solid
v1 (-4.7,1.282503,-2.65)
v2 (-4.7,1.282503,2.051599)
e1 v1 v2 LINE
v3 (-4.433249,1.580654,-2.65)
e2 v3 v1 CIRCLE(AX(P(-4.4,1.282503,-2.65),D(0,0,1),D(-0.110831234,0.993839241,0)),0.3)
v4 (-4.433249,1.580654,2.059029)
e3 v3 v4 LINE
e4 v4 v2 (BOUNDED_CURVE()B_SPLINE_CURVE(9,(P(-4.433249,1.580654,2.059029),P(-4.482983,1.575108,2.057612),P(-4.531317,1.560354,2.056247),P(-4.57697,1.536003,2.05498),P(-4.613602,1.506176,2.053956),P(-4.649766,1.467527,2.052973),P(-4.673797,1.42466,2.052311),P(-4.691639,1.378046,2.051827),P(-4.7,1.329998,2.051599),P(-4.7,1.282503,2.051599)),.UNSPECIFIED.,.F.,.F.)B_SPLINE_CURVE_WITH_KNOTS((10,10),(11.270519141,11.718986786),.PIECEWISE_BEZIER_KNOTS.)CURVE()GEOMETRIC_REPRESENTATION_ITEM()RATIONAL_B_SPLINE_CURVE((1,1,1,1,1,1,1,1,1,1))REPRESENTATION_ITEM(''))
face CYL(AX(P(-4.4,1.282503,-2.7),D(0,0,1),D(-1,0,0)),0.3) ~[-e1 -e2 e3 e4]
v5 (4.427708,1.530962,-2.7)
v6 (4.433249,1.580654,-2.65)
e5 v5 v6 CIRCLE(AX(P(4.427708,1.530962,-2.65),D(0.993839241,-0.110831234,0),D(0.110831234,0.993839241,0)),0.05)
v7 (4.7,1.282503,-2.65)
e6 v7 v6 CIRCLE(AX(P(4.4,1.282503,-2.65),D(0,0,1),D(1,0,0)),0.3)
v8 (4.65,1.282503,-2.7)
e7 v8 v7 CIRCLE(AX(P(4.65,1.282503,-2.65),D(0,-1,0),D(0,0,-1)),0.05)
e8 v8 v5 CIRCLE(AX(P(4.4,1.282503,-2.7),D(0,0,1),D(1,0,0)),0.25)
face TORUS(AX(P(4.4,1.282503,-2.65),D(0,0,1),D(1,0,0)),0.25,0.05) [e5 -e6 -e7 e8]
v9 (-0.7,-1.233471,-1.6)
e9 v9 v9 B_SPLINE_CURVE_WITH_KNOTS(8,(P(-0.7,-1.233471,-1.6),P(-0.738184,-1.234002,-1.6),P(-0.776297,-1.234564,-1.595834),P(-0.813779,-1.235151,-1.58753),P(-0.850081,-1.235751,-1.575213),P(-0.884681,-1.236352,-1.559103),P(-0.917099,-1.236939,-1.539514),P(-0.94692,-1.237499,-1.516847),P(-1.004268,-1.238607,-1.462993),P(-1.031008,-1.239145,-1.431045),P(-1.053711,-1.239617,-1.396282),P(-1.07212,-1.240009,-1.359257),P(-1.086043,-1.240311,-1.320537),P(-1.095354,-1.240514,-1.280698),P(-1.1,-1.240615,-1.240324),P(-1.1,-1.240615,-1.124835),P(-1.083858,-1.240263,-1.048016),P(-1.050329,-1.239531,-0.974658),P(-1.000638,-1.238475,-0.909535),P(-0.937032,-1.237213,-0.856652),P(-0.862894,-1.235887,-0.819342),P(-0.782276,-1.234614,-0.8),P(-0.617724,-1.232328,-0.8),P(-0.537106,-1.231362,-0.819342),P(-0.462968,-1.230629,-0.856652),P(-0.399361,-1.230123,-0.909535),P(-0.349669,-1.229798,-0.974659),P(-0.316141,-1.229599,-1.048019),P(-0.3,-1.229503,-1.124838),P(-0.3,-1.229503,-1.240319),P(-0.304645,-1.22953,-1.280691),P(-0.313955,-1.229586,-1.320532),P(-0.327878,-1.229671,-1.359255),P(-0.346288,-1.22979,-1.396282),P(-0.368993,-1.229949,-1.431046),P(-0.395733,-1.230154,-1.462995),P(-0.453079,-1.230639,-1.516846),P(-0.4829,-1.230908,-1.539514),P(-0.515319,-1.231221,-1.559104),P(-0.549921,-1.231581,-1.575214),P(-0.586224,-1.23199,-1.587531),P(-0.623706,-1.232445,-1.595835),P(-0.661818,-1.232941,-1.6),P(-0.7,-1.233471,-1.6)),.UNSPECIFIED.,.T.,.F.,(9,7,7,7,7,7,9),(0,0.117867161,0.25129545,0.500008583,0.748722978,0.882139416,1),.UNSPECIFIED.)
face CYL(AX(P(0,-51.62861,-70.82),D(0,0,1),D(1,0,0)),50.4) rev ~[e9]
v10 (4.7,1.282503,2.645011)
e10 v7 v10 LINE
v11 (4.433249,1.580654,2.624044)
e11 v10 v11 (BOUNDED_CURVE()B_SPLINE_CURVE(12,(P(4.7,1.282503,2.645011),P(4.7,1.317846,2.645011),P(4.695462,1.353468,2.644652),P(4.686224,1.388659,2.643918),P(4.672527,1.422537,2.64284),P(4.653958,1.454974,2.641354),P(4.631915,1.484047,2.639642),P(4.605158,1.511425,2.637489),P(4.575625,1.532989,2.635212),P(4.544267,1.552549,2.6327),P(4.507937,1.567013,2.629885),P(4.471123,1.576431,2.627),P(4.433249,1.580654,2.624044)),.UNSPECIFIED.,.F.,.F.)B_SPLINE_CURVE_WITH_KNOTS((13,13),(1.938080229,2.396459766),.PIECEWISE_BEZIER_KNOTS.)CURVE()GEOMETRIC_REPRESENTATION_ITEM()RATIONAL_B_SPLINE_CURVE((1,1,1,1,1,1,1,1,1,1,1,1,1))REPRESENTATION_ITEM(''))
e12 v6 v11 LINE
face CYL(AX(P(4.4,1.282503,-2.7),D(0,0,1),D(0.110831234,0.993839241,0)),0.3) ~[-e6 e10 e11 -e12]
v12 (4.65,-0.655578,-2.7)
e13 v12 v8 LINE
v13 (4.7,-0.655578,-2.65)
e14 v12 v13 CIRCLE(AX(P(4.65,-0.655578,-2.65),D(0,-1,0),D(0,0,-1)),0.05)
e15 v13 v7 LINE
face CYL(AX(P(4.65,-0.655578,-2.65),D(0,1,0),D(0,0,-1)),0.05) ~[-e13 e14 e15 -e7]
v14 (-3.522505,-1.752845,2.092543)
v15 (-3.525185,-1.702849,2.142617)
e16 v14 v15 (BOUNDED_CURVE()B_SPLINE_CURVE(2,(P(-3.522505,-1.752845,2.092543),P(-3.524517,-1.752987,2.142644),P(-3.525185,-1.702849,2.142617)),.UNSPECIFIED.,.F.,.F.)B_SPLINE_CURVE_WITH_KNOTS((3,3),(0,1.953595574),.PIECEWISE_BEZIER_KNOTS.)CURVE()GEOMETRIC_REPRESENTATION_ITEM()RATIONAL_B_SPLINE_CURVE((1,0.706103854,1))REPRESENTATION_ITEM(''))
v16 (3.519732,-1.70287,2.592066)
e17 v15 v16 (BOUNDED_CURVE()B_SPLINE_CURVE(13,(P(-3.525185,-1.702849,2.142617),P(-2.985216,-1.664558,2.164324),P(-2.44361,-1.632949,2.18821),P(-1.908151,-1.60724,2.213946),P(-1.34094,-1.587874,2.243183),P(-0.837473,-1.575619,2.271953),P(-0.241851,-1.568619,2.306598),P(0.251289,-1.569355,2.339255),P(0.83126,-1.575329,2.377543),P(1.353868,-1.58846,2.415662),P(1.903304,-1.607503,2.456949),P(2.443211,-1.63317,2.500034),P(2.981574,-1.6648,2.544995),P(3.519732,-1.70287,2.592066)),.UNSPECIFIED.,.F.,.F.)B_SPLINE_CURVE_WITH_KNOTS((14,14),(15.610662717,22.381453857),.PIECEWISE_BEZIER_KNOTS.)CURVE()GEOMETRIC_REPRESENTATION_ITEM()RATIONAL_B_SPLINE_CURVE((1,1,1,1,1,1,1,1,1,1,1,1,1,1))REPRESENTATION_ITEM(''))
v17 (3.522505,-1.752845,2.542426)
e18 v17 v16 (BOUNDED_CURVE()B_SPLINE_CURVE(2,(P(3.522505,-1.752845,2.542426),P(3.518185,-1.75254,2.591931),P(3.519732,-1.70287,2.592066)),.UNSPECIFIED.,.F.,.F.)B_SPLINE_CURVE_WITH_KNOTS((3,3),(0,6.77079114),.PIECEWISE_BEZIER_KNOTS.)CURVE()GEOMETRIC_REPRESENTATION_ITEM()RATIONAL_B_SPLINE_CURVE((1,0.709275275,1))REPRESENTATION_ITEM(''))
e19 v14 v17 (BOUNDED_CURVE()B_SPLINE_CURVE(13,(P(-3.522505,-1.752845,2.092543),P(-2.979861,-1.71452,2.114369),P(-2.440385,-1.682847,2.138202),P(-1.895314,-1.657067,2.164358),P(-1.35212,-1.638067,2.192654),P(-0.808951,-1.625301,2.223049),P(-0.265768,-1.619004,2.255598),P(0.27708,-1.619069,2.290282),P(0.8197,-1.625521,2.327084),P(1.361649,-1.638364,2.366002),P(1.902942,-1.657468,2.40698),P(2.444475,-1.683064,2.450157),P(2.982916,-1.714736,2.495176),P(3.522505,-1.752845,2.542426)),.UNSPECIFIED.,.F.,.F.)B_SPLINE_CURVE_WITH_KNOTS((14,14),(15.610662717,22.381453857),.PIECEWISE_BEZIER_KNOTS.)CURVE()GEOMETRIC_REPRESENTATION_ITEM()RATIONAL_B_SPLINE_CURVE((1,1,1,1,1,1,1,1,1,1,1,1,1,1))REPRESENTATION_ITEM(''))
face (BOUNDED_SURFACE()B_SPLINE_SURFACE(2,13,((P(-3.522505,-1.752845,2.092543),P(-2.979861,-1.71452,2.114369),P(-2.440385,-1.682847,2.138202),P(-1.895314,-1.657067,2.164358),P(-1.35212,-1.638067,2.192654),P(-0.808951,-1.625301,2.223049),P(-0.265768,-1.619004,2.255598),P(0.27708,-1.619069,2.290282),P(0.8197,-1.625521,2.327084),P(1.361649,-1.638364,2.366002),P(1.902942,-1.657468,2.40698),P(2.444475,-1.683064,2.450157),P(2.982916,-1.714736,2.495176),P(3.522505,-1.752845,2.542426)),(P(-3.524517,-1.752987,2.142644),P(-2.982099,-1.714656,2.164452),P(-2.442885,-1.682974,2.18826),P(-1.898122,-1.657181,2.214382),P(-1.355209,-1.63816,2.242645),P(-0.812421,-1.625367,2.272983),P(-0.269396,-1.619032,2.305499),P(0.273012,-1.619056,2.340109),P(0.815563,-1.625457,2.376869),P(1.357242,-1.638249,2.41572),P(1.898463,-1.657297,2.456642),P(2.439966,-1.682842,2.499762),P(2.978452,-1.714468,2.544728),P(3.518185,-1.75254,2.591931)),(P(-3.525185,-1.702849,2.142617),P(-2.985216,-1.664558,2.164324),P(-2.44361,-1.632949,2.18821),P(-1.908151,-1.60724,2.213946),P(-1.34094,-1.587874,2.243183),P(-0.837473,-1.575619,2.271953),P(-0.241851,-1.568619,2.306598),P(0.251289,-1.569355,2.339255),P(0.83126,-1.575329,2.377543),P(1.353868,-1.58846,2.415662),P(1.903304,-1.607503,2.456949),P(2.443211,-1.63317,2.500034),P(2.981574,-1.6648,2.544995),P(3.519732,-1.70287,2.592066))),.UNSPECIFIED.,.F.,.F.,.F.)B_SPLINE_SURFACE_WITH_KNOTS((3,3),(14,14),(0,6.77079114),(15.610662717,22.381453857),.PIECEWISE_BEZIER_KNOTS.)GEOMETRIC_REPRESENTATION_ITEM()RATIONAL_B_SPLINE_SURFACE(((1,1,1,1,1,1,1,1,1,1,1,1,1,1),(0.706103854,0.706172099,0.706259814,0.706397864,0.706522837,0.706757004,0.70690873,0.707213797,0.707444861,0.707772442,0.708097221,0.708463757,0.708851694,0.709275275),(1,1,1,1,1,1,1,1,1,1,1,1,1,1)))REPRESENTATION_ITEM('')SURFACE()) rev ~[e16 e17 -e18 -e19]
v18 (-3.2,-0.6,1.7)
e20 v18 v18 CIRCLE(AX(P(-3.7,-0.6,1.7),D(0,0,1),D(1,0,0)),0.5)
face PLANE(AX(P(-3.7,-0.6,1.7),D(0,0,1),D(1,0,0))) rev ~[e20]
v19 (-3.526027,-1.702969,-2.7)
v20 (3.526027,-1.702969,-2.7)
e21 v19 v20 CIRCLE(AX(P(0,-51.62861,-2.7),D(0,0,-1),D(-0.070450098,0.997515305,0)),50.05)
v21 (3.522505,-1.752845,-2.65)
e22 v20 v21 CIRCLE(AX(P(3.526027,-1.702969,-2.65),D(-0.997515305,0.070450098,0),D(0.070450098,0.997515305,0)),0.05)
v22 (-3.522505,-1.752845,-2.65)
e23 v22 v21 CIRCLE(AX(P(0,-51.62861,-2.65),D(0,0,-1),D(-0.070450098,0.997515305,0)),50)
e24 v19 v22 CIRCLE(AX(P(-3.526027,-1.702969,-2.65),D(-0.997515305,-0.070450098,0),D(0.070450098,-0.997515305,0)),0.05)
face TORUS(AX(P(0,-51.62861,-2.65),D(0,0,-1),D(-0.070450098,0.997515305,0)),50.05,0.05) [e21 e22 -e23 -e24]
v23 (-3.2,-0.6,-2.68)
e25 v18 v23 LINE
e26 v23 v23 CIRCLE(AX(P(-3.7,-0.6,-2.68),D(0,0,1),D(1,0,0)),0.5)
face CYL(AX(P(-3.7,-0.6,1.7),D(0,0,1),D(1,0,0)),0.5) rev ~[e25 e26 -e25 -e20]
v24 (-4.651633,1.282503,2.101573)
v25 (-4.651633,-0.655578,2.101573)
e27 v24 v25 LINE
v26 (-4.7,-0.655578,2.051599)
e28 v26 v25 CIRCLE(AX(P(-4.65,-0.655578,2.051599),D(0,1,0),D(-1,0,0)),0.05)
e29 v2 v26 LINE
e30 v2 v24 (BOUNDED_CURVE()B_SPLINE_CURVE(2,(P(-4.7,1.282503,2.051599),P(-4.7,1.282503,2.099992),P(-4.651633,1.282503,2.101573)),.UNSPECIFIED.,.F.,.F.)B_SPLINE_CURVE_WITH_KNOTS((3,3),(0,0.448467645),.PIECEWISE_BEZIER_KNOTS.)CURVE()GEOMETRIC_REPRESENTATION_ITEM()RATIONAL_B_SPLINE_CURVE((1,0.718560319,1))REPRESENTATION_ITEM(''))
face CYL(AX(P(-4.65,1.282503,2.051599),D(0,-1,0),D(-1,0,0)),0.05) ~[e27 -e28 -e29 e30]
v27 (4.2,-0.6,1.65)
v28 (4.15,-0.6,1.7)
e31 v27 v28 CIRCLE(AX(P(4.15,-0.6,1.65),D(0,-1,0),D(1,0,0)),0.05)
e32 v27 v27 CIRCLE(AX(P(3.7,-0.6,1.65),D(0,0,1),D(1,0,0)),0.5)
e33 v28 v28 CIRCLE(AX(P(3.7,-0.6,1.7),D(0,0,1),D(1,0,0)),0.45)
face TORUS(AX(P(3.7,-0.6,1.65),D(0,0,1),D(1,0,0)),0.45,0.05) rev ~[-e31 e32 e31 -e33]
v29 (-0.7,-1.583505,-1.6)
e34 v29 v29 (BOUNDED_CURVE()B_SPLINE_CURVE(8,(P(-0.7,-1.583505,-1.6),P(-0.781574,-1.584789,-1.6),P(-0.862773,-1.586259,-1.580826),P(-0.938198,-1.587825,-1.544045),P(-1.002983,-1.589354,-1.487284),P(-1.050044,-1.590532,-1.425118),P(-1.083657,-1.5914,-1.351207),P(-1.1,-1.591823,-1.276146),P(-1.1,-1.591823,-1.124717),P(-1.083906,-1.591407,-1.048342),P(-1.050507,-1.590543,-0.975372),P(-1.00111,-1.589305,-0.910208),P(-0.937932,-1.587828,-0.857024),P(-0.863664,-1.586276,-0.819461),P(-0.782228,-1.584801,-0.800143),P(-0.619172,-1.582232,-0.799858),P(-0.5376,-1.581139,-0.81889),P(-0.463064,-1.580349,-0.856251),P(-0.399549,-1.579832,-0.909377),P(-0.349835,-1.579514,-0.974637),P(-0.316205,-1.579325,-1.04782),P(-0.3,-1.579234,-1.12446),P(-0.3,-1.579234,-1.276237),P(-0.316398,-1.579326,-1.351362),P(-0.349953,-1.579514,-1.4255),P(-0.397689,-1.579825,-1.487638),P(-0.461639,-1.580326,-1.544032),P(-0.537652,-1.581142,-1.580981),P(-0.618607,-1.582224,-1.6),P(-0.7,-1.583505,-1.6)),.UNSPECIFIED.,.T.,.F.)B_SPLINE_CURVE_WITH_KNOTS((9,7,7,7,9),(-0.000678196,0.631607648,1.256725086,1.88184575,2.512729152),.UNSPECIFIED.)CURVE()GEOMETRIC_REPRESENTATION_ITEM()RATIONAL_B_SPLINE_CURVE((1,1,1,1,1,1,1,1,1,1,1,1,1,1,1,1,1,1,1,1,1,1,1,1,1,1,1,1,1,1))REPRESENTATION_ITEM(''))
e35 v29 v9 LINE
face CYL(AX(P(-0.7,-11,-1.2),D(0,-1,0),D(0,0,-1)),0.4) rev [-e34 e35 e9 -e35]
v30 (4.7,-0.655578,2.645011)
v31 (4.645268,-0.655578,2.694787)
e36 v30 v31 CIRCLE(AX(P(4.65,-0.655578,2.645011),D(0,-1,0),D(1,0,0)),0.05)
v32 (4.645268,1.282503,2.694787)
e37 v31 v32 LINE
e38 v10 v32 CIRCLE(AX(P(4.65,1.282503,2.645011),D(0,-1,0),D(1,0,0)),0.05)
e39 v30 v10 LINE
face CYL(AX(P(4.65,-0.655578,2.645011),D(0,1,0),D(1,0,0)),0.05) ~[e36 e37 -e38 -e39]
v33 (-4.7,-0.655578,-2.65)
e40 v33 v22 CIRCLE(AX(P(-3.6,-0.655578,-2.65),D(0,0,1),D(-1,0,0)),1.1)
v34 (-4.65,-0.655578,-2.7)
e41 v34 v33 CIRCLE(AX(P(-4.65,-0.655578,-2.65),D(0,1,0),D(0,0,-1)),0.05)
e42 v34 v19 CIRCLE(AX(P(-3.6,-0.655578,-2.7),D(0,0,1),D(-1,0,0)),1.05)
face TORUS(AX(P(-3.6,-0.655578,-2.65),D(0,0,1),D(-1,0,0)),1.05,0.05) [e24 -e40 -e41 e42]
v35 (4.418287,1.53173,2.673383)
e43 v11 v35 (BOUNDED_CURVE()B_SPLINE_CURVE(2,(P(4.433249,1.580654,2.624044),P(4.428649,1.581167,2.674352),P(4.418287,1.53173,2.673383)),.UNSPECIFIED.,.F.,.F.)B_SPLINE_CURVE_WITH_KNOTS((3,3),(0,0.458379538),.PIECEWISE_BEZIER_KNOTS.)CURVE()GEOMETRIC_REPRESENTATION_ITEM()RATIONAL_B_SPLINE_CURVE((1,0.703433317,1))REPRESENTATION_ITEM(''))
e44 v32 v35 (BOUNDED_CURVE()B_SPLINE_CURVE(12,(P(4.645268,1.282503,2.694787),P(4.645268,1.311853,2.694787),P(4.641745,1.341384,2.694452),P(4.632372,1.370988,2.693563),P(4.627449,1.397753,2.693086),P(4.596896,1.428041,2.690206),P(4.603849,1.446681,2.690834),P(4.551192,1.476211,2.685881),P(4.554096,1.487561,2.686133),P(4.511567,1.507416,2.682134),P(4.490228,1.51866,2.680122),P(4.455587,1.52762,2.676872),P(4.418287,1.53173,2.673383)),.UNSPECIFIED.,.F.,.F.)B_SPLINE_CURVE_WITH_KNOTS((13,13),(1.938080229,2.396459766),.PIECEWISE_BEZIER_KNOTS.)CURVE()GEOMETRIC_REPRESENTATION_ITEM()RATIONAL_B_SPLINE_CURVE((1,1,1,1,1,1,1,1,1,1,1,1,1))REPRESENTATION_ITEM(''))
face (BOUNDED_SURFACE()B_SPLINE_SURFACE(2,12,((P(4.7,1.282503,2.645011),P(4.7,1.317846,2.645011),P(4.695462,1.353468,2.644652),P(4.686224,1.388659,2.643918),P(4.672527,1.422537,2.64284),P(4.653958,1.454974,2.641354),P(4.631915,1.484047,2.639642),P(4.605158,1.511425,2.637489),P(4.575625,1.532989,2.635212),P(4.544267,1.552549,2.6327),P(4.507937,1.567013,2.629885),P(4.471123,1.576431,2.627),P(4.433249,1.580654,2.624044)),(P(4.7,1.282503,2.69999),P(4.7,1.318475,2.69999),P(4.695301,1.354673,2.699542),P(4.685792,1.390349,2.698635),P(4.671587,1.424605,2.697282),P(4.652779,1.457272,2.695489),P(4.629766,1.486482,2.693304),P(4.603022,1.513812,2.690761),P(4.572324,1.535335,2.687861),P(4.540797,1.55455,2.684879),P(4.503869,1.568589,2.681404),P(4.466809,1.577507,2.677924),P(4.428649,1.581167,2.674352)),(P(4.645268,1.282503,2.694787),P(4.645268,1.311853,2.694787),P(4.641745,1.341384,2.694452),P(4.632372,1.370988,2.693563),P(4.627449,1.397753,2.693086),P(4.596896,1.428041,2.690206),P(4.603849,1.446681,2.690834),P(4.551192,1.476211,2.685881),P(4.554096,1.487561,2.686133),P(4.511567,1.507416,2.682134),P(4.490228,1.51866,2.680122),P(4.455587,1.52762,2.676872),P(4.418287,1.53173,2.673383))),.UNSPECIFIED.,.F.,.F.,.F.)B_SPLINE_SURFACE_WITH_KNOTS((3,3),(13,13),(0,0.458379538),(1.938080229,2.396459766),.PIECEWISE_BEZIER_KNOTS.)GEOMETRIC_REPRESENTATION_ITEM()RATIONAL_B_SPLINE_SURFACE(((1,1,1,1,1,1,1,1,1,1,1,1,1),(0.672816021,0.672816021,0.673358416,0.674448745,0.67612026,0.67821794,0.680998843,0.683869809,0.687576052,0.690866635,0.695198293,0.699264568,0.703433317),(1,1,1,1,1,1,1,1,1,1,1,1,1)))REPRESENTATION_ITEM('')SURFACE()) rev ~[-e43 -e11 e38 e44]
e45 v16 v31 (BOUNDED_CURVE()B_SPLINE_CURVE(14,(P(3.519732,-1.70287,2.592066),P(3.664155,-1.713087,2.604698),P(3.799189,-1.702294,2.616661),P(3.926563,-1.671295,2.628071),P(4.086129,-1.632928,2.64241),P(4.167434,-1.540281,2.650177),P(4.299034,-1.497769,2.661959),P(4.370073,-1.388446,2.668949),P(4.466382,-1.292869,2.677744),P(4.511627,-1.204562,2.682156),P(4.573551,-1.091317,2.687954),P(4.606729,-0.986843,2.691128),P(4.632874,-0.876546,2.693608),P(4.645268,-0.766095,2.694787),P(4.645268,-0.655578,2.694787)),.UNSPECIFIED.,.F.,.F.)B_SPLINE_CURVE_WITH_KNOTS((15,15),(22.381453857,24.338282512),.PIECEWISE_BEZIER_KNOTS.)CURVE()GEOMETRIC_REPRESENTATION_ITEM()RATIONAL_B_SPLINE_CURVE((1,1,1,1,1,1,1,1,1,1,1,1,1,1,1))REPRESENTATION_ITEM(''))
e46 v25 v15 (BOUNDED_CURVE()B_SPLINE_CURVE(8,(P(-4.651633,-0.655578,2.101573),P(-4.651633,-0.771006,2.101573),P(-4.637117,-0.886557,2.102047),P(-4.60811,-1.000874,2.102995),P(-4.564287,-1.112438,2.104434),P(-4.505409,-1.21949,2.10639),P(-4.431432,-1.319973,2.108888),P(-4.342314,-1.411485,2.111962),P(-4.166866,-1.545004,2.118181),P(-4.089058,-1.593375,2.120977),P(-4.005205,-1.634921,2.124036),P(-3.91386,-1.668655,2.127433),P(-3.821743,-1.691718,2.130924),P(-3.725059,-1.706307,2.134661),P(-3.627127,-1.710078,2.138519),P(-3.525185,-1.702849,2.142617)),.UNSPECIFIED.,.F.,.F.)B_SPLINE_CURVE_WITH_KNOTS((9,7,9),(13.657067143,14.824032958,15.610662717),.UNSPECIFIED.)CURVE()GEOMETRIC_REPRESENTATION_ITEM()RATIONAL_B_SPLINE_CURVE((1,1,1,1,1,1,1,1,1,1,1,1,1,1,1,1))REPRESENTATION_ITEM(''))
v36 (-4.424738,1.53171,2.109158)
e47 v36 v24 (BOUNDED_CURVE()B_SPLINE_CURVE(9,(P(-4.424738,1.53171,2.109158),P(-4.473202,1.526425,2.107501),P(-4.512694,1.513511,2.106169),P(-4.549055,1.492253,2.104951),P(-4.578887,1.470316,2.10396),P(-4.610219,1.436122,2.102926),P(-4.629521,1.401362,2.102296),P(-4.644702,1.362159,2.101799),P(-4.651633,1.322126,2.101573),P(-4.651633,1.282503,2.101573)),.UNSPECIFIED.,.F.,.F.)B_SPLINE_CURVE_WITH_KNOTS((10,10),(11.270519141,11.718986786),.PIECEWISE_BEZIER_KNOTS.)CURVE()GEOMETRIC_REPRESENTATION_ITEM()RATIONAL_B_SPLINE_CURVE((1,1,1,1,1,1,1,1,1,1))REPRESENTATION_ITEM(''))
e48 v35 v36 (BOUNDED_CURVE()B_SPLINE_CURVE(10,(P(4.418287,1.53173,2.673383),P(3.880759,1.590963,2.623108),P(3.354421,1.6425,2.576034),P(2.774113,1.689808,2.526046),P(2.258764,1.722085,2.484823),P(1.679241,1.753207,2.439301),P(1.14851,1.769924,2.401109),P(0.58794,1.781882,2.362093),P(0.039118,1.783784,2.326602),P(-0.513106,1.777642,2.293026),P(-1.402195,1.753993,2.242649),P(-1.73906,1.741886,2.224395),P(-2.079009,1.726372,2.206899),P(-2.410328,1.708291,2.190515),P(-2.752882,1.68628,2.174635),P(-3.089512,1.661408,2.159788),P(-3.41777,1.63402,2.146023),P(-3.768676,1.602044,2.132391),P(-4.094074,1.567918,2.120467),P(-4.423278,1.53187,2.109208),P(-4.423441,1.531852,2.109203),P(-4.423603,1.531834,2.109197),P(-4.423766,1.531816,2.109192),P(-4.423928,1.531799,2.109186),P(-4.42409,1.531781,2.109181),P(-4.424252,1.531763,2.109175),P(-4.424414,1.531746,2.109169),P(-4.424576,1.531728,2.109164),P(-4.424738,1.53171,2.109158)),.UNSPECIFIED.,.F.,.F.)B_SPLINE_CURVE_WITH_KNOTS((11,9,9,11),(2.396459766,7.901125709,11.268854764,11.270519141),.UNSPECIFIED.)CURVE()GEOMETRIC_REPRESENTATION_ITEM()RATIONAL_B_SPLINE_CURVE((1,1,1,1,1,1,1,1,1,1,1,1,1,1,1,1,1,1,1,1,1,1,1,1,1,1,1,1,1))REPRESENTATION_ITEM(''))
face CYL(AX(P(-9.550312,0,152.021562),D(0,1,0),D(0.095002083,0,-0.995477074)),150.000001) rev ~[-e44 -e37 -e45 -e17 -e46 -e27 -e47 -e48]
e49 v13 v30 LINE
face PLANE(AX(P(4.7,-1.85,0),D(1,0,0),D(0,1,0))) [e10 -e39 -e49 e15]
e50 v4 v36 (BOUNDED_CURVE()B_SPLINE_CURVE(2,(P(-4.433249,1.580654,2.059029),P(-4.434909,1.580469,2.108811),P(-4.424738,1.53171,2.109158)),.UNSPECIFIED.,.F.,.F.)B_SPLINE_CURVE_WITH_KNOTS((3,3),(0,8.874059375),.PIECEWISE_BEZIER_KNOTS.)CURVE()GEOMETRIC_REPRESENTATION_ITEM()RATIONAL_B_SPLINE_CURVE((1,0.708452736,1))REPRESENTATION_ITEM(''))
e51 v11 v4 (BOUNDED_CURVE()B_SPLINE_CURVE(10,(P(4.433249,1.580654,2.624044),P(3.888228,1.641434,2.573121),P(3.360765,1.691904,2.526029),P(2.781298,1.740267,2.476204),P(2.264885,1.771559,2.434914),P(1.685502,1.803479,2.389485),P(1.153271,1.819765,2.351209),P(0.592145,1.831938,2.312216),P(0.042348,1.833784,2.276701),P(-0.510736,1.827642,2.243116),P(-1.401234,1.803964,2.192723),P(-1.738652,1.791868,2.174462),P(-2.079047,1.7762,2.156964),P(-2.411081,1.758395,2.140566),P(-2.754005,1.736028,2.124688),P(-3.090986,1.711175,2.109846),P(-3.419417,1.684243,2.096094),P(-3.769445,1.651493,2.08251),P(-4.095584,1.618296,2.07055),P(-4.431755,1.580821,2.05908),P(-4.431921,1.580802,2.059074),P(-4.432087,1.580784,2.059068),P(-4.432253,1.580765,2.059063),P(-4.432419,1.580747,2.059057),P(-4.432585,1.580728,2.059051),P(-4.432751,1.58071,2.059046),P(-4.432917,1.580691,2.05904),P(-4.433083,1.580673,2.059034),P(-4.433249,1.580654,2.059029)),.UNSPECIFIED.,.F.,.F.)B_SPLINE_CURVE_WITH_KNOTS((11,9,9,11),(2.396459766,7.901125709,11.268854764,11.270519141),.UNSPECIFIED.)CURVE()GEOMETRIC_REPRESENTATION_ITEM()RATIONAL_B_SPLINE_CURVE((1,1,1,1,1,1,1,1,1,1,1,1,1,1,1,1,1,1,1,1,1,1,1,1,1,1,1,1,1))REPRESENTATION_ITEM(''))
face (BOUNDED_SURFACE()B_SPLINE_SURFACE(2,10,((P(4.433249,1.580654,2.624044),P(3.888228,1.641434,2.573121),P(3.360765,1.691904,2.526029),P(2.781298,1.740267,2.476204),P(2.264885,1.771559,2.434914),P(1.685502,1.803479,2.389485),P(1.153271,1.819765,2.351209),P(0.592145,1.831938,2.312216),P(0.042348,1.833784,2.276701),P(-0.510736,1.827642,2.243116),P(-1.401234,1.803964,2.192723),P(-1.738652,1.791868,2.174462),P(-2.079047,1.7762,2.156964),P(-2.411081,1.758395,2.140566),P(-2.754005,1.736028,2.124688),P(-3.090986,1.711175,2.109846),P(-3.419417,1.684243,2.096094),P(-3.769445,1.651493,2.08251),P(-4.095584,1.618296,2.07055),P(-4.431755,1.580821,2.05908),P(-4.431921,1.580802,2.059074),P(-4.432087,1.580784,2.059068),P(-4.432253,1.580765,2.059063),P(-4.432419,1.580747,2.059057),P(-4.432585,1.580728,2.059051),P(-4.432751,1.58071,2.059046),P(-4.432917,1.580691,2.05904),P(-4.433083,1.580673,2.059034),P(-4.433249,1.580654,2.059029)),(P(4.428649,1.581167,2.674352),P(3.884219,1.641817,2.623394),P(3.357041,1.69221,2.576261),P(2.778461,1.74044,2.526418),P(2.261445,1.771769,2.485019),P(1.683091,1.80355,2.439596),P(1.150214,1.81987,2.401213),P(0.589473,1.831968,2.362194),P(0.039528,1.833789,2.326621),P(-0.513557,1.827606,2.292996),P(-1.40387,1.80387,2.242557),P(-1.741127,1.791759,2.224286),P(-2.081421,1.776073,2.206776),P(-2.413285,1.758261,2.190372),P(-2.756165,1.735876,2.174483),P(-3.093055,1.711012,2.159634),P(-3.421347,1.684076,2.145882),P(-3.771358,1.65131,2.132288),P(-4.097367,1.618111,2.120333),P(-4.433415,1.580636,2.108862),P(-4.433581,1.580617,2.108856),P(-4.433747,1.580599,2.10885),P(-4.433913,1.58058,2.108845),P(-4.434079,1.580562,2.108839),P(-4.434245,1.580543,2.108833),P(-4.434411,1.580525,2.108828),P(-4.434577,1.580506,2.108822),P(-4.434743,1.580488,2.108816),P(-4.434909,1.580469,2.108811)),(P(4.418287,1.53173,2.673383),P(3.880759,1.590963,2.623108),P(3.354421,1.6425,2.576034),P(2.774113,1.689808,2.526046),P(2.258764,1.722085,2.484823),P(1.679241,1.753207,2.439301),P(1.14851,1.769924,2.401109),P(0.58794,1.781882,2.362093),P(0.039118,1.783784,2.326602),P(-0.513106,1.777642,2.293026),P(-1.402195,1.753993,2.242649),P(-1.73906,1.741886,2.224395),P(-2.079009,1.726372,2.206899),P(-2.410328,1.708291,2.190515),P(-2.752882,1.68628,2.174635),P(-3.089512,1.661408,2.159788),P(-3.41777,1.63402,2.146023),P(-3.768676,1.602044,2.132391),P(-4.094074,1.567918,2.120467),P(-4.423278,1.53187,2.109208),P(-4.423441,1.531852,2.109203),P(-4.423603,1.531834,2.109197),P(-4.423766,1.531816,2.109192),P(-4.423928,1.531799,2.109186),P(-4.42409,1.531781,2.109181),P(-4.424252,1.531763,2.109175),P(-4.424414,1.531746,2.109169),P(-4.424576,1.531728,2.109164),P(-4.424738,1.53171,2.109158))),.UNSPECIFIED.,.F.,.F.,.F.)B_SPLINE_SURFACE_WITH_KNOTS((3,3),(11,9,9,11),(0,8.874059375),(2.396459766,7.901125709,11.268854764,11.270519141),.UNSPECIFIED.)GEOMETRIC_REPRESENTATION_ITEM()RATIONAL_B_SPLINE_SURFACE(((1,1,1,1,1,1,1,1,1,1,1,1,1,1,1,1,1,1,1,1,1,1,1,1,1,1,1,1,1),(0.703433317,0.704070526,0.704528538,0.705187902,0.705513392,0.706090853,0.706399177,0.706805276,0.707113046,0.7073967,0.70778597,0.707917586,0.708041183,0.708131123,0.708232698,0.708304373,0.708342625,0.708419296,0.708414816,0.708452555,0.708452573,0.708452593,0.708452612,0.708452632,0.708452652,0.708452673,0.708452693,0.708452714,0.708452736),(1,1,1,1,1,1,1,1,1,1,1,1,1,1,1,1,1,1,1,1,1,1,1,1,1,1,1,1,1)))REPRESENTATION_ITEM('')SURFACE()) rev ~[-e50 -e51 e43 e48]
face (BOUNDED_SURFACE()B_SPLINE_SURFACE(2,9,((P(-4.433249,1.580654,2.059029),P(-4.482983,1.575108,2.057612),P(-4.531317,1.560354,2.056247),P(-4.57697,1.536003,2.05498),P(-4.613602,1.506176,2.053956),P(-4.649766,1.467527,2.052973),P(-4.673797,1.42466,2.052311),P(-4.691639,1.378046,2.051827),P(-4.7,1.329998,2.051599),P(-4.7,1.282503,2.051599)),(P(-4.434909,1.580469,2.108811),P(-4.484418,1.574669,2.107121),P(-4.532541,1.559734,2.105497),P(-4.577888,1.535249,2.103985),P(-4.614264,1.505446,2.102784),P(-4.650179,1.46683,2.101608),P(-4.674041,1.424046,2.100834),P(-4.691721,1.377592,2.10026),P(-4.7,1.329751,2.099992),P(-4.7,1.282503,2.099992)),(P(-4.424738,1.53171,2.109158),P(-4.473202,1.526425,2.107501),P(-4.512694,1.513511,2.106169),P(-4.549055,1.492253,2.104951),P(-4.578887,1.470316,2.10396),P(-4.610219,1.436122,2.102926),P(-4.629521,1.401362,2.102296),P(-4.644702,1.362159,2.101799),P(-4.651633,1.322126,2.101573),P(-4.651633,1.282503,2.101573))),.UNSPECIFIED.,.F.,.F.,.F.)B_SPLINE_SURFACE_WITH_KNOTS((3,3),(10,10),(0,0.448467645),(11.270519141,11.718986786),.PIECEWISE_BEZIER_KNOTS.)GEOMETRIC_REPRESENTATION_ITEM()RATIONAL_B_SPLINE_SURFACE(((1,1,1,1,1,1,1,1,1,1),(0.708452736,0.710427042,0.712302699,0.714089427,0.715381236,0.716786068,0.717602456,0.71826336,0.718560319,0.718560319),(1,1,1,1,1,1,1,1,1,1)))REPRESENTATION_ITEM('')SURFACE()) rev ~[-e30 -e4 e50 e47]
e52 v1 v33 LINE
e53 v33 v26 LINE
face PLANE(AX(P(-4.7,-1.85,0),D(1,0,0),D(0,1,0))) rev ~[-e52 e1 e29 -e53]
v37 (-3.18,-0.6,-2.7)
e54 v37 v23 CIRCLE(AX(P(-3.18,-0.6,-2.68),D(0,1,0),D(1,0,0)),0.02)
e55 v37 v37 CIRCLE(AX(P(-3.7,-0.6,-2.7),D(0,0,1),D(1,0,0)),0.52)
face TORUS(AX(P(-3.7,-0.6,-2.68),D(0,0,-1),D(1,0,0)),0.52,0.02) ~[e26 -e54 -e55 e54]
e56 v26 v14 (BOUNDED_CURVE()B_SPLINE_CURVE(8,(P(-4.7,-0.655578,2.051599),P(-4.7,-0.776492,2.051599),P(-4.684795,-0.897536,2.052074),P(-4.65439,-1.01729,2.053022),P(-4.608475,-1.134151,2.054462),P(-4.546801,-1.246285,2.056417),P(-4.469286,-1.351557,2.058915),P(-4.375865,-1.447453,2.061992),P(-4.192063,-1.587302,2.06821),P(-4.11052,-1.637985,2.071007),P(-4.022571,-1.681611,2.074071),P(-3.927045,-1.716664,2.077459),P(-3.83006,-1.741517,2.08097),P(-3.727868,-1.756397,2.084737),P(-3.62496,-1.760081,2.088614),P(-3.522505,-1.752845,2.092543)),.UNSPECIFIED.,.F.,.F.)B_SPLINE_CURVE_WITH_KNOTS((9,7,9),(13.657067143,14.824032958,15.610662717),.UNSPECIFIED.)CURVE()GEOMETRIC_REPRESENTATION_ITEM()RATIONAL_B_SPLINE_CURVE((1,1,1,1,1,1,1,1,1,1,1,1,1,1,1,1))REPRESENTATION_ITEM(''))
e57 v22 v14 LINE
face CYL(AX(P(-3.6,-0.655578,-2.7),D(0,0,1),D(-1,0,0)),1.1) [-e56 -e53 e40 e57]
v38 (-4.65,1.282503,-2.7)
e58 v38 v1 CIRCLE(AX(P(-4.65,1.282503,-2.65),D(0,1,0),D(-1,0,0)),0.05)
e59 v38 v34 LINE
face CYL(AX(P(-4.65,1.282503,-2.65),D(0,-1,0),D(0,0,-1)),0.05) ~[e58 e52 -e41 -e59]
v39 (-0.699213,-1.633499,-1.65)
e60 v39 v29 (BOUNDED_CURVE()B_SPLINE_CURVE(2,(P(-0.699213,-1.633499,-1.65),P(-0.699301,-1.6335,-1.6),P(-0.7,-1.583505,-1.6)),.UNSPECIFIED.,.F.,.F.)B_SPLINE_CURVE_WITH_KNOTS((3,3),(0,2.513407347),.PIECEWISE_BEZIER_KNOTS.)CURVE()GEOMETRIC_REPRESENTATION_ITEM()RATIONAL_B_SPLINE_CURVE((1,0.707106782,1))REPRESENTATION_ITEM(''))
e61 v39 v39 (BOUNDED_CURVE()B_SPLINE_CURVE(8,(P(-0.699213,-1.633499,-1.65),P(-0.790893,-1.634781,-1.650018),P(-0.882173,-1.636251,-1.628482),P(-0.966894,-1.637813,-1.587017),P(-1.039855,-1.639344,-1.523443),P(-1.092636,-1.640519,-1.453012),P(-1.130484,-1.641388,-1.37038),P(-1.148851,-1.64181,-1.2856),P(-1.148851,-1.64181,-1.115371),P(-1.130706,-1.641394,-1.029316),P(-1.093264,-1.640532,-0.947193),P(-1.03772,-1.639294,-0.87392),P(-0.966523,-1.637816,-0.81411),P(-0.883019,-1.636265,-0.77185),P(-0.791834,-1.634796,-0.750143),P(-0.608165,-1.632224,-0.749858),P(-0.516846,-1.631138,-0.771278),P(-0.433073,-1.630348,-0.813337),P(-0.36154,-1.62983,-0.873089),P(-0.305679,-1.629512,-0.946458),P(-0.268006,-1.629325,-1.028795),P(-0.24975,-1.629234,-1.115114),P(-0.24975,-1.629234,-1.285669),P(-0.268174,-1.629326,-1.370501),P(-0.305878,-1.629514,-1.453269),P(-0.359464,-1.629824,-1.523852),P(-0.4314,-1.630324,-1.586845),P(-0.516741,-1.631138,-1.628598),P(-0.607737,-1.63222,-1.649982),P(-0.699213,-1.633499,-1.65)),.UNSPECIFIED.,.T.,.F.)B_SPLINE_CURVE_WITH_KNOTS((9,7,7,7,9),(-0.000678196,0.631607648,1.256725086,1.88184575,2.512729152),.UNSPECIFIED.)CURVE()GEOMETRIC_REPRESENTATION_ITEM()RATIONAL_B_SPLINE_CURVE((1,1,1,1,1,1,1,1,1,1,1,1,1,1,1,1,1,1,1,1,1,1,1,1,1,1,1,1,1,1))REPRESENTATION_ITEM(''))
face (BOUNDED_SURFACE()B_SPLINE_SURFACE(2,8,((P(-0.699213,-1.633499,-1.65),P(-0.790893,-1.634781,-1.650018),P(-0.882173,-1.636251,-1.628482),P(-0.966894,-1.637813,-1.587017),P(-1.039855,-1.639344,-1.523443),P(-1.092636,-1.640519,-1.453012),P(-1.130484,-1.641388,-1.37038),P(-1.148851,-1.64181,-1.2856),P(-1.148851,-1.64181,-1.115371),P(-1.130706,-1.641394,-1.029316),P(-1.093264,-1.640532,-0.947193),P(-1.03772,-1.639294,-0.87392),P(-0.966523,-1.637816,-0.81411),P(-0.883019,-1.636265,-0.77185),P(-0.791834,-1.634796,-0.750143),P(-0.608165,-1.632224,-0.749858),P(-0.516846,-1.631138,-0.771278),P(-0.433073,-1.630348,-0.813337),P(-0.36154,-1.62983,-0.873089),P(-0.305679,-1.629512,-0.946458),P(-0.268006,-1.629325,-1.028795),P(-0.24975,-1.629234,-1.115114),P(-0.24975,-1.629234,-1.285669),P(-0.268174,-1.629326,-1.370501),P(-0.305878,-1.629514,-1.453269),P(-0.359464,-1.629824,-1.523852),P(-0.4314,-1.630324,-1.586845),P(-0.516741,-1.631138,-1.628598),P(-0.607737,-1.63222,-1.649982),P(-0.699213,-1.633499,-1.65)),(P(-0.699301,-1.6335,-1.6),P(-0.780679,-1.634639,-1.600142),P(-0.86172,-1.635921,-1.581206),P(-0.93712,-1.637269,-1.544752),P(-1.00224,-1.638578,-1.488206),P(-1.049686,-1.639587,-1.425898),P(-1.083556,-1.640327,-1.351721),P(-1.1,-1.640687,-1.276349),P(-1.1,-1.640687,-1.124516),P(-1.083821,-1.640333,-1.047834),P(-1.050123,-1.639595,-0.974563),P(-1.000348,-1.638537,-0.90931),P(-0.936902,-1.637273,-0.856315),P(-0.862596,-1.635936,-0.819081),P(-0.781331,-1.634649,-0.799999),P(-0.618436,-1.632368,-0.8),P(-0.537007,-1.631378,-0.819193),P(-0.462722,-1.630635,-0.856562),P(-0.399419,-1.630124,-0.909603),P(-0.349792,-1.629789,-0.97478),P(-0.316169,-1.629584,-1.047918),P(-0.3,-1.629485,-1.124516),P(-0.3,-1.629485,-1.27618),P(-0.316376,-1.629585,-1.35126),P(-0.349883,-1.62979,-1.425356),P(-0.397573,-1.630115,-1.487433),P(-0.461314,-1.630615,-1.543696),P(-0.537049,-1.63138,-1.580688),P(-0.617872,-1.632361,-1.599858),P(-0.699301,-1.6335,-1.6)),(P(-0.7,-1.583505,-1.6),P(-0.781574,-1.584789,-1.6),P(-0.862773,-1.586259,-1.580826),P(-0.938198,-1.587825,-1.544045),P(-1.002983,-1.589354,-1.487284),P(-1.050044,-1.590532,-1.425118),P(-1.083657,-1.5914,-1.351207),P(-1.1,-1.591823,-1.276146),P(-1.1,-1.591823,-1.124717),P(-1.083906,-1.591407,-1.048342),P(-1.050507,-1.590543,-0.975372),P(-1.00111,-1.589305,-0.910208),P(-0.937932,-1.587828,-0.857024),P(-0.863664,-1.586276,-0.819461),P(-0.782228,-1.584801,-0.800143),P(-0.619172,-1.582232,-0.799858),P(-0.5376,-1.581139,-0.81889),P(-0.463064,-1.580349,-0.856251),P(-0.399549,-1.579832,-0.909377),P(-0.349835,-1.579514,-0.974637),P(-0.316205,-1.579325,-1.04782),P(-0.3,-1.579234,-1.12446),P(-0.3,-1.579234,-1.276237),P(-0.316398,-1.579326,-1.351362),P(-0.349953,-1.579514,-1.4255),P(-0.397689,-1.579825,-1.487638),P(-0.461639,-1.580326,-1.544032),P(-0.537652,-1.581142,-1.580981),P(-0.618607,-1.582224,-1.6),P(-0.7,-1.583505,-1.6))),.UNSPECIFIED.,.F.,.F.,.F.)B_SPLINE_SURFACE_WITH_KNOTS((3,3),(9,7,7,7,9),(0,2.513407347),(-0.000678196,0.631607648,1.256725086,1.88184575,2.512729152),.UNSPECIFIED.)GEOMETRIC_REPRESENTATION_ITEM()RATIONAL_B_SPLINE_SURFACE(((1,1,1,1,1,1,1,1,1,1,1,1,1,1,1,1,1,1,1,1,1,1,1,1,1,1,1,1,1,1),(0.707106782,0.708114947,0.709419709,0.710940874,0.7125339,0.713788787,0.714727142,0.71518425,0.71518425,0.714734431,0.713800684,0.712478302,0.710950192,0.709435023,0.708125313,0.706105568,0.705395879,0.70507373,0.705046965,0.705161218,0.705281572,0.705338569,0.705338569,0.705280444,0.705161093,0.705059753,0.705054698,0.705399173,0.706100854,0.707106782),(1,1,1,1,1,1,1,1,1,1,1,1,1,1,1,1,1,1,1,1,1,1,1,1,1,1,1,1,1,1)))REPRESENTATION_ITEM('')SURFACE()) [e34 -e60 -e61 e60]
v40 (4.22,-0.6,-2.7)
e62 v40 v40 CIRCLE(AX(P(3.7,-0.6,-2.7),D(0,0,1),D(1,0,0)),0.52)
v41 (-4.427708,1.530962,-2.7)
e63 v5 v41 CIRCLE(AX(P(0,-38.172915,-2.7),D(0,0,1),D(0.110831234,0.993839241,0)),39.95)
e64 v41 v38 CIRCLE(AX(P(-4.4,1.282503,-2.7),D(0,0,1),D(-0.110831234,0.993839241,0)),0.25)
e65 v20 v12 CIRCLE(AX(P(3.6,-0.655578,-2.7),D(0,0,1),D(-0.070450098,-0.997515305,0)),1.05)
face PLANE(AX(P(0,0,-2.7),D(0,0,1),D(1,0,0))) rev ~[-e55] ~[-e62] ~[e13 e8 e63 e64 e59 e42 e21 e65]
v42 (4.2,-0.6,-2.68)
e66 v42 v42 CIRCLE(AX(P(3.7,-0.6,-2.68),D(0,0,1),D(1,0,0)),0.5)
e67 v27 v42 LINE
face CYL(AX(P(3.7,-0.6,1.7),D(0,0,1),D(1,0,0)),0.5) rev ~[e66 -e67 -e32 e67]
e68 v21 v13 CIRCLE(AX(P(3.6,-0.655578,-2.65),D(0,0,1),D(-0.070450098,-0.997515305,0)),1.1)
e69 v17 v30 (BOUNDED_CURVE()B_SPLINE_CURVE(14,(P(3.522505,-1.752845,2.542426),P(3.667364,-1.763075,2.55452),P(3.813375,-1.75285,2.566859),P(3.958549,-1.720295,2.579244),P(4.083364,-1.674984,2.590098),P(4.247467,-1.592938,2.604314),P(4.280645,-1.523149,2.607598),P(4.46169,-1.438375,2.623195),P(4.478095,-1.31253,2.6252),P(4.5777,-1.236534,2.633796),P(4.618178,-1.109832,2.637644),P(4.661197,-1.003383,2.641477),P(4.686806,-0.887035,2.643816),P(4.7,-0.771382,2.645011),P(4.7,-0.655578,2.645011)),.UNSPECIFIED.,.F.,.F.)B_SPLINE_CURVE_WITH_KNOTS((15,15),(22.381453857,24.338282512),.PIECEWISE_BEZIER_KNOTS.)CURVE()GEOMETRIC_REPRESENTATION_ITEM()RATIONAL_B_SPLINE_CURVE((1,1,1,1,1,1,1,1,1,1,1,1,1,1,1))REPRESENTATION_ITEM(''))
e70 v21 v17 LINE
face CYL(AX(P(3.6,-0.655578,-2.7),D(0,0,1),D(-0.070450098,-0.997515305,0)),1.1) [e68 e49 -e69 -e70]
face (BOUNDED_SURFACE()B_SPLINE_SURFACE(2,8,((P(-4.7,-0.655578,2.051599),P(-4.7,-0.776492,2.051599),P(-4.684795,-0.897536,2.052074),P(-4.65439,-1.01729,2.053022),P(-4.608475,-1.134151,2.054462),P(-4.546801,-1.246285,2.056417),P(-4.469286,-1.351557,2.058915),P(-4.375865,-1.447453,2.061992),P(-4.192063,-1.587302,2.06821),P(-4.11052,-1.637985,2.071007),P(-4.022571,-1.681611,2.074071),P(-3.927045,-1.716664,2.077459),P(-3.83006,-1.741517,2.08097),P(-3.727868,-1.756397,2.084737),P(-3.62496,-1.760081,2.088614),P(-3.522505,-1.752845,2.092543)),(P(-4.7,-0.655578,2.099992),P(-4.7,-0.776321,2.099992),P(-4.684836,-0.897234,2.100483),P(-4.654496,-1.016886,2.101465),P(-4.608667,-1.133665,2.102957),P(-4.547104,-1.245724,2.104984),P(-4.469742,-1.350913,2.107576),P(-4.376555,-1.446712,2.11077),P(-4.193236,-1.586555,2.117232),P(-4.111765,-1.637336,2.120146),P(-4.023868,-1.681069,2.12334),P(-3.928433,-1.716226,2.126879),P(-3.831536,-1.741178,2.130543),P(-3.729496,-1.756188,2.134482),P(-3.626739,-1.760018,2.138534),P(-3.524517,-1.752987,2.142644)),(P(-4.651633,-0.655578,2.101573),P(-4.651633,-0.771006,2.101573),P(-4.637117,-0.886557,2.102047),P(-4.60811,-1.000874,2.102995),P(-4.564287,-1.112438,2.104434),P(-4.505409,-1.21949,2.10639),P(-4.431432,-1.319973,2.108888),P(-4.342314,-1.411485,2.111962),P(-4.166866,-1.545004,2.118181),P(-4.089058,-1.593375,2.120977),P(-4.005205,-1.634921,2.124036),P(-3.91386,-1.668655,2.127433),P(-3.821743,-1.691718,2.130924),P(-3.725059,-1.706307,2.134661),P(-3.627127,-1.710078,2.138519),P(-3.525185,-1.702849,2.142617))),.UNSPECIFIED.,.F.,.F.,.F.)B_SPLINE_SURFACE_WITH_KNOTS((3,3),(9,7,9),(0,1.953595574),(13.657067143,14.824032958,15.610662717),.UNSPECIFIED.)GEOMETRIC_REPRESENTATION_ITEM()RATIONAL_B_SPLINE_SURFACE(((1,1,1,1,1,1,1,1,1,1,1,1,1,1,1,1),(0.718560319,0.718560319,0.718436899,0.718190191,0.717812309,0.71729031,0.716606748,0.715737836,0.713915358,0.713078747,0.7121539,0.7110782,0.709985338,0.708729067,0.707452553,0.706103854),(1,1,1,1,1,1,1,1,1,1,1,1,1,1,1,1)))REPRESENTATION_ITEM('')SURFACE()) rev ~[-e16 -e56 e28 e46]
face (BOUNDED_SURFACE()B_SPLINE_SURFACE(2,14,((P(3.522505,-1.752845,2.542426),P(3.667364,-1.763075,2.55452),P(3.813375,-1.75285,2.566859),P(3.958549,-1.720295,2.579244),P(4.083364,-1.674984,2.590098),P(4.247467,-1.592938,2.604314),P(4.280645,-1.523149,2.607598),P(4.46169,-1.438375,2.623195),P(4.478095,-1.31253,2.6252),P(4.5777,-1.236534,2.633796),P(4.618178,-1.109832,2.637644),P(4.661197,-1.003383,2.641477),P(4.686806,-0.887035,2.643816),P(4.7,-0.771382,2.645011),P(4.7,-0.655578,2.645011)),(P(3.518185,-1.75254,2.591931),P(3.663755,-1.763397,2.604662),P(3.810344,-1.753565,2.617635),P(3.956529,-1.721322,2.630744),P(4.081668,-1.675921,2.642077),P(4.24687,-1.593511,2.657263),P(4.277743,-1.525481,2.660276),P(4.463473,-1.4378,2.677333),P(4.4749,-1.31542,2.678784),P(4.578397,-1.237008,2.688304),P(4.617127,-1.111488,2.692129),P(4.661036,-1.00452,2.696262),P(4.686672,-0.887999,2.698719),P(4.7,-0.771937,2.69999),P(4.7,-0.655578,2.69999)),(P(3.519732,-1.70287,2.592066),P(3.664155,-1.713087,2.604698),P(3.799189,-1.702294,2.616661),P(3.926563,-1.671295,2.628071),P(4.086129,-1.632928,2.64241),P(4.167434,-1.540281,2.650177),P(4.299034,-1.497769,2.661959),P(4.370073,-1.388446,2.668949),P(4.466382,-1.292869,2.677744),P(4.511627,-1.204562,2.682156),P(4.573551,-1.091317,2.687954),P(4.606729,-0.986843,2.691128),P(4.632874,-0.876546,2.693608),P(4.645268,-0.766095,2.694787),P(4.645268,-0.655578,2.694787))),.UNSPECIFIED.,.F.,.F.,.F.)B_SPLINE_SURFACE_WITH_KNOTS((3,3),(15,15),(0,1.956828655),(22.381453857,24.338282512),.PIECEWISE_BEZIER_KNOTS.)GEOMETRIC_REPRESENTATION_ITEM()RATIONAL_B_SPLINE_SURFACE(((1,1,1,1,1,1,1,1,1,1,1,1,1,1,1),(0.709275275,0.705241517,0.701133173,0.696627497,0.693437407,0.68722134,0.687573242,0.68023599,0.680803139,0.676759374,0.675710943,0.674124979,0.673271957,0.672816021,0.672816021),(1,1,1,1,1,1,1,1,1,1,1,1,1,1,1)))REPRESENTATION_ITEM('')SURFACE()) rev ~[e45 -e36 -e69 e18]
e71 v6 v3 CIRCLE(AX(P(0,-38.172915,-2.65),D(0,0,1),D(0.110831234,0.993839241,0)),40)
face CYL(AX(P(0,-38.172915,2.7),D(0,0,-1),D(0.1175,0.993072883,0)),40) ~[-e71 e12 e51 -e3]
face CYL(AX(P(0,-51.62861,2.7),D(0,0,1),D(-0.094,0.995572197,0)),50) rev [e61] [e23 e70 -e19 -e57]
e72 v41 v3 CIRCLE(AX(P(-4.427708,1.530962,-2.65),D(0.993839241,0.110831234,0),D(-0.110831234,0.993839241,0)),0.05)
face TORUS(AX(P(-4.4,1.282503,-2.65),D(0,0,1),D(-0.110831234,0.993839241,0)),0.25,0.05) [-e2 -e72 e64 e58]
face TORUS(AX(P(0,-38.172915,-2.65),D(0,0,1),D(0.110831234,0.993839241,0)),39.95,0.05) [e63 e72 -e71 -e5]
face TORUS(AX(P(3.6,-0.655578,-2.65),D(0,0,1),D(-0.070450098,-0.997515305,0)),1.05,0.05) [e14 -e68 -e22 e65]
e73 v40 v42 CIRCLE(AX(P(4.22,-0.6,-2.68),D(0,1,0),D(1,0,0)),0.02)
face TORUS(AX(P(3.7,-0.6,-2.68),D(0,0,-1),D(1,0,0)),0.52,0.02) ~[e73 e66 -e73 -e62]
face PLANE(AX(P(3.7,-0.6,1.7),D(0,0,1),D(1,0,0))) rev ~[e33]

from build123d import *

# Parameters (mm, degrees)
SKETCH1_W               = 9.4
SKETCH1_H               = 3.7
BOSS_EXTRUDE1_DEPTH     = 2.7
CUT_EXTRUDE1_DEPTH      = 7.6
FILLET1_R               = 1.1
FILLET2_R               = 0.3
CUT_EXTRUDE2_START      = -1
SKETCH3_R               = 0.5
CUT_EXTRUDE2_DEPTH      = 13
FILLET4_R               = 0.02
CUT_EXTRUDE3_DEPTH      = 5
FILLET5_R               = 0.05
CUT_EXTRUDE4_REACH      = 18.72
CUT_EXTRUDE4_END_RADIUS = 50.4
CUT_EXTRUDE4_START      = -11
SKETCH5_R               = 0.4
FILLET6_R               = 0.05


with BuildPart() as part:
    # Sketch1 → Boss-Extrude1 (new, symmetric)
    with BuildSketch(Plane.XY):
        Rectangle(SKETCH1_W, SKETCH1_H)
    extrude(amount=BOSS_EXTRUDE1_DEPTH, both=True)

    # Sketch2 → Cut-Extrude1 (cut, symmetric)
    with BuildSketch(Plane.XY.offset(2.7)):
        with BuildLine():
            Line((-4.7, 1.55), (-7.120690005, 4.011417256))
            Line((-7.120690005, 4.011417256), (5.535860742, 3.886722174))
            Line((5.535860742, 3.886722174), (4.7, 1.55))
            ThreePointArc((4.7, 1.55), (0, 1.827084699), (-4.7, 1.55))
        make_face()
        with BuildLine():
            Line((4.7, -1.85), (0.350623614, -3.782025322))
            Line((0.350623614, -3.782025322), (-4.7, -1.85))
            ThreePointArc((-4.7, -1.85), (0, -1.628609864), (4.7, -1.85))
        make_face()
    extrude(amount=CUT_EXTRUDE1_DEPTH, both=True, mode=Mode.SUBTRACT)

    # Fillet1
    fillet1_edges = [part.edges().sort_by_distance(p)[0] for p in [
        (4.7, -1.85, 0),
        (-4.7, -1.85, 0),
    ]]
    fillet(fillet1_edges, radius=FILLET1_R)

    # Fillet2
    fillet2_edges = [part.edges().sort_by_distance(p)[0] for p in [
        (4.7, 1.55, 0),
        (-4.7, 1.55, 0),
    ]]
    fillet(fillet2_edges, radius=FILLET2_R)

    # Sketch3 → Cut-Extrude2 (cut)
    with BuildSketch(Plane.XY.offset(2.7).offset(CUT_EXTRUDE2_START)):
        with Locations((3.7, -0.6)):
            Circle(SKETCH3_R)
        with Locations((-3.7, -0.6)):
            Circle(SKETCH3_R)
    extrude(amount=-CUT_EXTRUDE2_DEPTH, mode=Mode.SUBTRACT)

    # Fillet4
    fillet4_edges = [part.edges().sort_by_distance(p)[0] for p in [
        (3.2, -0.6, -2.7),
        (-4.2, -0.6, -2.7),
    ]]
    fillet(fillet4_edges, radius=FILLET4_R)

    # Sketch4 → Cut-Extrude3 (cut, symmetric)
    with BuildSketch(Plane(origin=(0, 0, 0), x_dir=(1, 0, 0), z_dir=(0, 1, 0))):
        with BuildLine():
            Line((-4.7, -2.1), (-6.612719149, -3.713907535))
            Line((-6.612719149, -3.713907535), (6.420677859, -4.574089961))
            Line((6.420677859, -4.574089961), (4.7, -2.7))
            ThreePointArc((4.7, -2.7), (0.004710726, -2.326198627), (-4.7, -2.1))
        make_face()
    extrude(amount=CUT_EXTRUDE3_DEPTH, both=True, mode=Mode.SUBTRACT)

    # Fillet5
    fillet5_edges = [part.edges().sort_by_distance(p)[0] for p in [
        (4.7, 0.3134624, -2.7),
        (4.7, 0.3134624, 2.7),
        (0, -1.628609864, -2.7),
        (-4.349918456, -1.460327621, -2.7),
        (4.349918456, -1.460327621, -2.7),
        (0, 1.827084699, -2.7),
        (-4.7, 0.3134624, -2.7),
        (-4.623578634, 1.482534062, -2.7),
        (4.623578634, 1.482534062, -2.7),
        (3.2, -0.6, 1.7),
        (-4.623553452, 1.482562201, 2.102492735),
        (4.349071617, -1.461115931, 2.666925629),
        (-4.349757648, -1.460477444, 2.11174073),
        (4.623384051, 1.482751335, 2.692708088),
        (0.002641899, -1.628609931, 2.326066603),
        (-4.7, 0.3134624, 2.1),
        (0.004177998, 1.827084481, 2.326164624),
    ]]
    fillet(fillet5_edges, radius=FILLET5_R)

    # Cut-Extrude4: up to this cylinder (the profile starts inside it)
    cut_extrude4_end = Plane(origin=(0, -51.628609864, -1.2), z_dir=(0, 0, 1)) * Cylinder(CUT_EXTRUDE4_END_RADIUS, 139.24, mode=Mode.PRIVATE)
    # Sketch5 → Cut-Extrude4 (cut, up to the surface)
    with BuildSketch(Plane(origin=(0, 0, 0), x_dir=(1, 0, 0), z_dir=(0, 1, 0)).offset(CUT_EXTRUDE4_START), mode=Mode.PRIVATE) as cut_extrude4_sk1:
        with Locations(Location((-0.7, 1.2, 0), (0, 0, 90))):
            Circle(SKETCH5_R)
    cut_extrude4_tool1 = extrude(cut_extrude4_sk1.sketch, amount=CUT_EXTRUDE4_REACH, mode=Mode.PRIVATE) & cut_extrude4_end
    add(cut_extrude4_tool1.solids().sort_by_distance((-0.7, -11, -1.2))[0], mode=Mode.SUBTRACT)

    # Fillet6
    fillet6_edges = [part.edges().sort_by_distance(p)[0] for p in [
        (-0.700029875, -1.633510522, -0.800000001),
    ]]
    fillet(fillet6_edges, radius=FILLET6_R)


solid = part.part
